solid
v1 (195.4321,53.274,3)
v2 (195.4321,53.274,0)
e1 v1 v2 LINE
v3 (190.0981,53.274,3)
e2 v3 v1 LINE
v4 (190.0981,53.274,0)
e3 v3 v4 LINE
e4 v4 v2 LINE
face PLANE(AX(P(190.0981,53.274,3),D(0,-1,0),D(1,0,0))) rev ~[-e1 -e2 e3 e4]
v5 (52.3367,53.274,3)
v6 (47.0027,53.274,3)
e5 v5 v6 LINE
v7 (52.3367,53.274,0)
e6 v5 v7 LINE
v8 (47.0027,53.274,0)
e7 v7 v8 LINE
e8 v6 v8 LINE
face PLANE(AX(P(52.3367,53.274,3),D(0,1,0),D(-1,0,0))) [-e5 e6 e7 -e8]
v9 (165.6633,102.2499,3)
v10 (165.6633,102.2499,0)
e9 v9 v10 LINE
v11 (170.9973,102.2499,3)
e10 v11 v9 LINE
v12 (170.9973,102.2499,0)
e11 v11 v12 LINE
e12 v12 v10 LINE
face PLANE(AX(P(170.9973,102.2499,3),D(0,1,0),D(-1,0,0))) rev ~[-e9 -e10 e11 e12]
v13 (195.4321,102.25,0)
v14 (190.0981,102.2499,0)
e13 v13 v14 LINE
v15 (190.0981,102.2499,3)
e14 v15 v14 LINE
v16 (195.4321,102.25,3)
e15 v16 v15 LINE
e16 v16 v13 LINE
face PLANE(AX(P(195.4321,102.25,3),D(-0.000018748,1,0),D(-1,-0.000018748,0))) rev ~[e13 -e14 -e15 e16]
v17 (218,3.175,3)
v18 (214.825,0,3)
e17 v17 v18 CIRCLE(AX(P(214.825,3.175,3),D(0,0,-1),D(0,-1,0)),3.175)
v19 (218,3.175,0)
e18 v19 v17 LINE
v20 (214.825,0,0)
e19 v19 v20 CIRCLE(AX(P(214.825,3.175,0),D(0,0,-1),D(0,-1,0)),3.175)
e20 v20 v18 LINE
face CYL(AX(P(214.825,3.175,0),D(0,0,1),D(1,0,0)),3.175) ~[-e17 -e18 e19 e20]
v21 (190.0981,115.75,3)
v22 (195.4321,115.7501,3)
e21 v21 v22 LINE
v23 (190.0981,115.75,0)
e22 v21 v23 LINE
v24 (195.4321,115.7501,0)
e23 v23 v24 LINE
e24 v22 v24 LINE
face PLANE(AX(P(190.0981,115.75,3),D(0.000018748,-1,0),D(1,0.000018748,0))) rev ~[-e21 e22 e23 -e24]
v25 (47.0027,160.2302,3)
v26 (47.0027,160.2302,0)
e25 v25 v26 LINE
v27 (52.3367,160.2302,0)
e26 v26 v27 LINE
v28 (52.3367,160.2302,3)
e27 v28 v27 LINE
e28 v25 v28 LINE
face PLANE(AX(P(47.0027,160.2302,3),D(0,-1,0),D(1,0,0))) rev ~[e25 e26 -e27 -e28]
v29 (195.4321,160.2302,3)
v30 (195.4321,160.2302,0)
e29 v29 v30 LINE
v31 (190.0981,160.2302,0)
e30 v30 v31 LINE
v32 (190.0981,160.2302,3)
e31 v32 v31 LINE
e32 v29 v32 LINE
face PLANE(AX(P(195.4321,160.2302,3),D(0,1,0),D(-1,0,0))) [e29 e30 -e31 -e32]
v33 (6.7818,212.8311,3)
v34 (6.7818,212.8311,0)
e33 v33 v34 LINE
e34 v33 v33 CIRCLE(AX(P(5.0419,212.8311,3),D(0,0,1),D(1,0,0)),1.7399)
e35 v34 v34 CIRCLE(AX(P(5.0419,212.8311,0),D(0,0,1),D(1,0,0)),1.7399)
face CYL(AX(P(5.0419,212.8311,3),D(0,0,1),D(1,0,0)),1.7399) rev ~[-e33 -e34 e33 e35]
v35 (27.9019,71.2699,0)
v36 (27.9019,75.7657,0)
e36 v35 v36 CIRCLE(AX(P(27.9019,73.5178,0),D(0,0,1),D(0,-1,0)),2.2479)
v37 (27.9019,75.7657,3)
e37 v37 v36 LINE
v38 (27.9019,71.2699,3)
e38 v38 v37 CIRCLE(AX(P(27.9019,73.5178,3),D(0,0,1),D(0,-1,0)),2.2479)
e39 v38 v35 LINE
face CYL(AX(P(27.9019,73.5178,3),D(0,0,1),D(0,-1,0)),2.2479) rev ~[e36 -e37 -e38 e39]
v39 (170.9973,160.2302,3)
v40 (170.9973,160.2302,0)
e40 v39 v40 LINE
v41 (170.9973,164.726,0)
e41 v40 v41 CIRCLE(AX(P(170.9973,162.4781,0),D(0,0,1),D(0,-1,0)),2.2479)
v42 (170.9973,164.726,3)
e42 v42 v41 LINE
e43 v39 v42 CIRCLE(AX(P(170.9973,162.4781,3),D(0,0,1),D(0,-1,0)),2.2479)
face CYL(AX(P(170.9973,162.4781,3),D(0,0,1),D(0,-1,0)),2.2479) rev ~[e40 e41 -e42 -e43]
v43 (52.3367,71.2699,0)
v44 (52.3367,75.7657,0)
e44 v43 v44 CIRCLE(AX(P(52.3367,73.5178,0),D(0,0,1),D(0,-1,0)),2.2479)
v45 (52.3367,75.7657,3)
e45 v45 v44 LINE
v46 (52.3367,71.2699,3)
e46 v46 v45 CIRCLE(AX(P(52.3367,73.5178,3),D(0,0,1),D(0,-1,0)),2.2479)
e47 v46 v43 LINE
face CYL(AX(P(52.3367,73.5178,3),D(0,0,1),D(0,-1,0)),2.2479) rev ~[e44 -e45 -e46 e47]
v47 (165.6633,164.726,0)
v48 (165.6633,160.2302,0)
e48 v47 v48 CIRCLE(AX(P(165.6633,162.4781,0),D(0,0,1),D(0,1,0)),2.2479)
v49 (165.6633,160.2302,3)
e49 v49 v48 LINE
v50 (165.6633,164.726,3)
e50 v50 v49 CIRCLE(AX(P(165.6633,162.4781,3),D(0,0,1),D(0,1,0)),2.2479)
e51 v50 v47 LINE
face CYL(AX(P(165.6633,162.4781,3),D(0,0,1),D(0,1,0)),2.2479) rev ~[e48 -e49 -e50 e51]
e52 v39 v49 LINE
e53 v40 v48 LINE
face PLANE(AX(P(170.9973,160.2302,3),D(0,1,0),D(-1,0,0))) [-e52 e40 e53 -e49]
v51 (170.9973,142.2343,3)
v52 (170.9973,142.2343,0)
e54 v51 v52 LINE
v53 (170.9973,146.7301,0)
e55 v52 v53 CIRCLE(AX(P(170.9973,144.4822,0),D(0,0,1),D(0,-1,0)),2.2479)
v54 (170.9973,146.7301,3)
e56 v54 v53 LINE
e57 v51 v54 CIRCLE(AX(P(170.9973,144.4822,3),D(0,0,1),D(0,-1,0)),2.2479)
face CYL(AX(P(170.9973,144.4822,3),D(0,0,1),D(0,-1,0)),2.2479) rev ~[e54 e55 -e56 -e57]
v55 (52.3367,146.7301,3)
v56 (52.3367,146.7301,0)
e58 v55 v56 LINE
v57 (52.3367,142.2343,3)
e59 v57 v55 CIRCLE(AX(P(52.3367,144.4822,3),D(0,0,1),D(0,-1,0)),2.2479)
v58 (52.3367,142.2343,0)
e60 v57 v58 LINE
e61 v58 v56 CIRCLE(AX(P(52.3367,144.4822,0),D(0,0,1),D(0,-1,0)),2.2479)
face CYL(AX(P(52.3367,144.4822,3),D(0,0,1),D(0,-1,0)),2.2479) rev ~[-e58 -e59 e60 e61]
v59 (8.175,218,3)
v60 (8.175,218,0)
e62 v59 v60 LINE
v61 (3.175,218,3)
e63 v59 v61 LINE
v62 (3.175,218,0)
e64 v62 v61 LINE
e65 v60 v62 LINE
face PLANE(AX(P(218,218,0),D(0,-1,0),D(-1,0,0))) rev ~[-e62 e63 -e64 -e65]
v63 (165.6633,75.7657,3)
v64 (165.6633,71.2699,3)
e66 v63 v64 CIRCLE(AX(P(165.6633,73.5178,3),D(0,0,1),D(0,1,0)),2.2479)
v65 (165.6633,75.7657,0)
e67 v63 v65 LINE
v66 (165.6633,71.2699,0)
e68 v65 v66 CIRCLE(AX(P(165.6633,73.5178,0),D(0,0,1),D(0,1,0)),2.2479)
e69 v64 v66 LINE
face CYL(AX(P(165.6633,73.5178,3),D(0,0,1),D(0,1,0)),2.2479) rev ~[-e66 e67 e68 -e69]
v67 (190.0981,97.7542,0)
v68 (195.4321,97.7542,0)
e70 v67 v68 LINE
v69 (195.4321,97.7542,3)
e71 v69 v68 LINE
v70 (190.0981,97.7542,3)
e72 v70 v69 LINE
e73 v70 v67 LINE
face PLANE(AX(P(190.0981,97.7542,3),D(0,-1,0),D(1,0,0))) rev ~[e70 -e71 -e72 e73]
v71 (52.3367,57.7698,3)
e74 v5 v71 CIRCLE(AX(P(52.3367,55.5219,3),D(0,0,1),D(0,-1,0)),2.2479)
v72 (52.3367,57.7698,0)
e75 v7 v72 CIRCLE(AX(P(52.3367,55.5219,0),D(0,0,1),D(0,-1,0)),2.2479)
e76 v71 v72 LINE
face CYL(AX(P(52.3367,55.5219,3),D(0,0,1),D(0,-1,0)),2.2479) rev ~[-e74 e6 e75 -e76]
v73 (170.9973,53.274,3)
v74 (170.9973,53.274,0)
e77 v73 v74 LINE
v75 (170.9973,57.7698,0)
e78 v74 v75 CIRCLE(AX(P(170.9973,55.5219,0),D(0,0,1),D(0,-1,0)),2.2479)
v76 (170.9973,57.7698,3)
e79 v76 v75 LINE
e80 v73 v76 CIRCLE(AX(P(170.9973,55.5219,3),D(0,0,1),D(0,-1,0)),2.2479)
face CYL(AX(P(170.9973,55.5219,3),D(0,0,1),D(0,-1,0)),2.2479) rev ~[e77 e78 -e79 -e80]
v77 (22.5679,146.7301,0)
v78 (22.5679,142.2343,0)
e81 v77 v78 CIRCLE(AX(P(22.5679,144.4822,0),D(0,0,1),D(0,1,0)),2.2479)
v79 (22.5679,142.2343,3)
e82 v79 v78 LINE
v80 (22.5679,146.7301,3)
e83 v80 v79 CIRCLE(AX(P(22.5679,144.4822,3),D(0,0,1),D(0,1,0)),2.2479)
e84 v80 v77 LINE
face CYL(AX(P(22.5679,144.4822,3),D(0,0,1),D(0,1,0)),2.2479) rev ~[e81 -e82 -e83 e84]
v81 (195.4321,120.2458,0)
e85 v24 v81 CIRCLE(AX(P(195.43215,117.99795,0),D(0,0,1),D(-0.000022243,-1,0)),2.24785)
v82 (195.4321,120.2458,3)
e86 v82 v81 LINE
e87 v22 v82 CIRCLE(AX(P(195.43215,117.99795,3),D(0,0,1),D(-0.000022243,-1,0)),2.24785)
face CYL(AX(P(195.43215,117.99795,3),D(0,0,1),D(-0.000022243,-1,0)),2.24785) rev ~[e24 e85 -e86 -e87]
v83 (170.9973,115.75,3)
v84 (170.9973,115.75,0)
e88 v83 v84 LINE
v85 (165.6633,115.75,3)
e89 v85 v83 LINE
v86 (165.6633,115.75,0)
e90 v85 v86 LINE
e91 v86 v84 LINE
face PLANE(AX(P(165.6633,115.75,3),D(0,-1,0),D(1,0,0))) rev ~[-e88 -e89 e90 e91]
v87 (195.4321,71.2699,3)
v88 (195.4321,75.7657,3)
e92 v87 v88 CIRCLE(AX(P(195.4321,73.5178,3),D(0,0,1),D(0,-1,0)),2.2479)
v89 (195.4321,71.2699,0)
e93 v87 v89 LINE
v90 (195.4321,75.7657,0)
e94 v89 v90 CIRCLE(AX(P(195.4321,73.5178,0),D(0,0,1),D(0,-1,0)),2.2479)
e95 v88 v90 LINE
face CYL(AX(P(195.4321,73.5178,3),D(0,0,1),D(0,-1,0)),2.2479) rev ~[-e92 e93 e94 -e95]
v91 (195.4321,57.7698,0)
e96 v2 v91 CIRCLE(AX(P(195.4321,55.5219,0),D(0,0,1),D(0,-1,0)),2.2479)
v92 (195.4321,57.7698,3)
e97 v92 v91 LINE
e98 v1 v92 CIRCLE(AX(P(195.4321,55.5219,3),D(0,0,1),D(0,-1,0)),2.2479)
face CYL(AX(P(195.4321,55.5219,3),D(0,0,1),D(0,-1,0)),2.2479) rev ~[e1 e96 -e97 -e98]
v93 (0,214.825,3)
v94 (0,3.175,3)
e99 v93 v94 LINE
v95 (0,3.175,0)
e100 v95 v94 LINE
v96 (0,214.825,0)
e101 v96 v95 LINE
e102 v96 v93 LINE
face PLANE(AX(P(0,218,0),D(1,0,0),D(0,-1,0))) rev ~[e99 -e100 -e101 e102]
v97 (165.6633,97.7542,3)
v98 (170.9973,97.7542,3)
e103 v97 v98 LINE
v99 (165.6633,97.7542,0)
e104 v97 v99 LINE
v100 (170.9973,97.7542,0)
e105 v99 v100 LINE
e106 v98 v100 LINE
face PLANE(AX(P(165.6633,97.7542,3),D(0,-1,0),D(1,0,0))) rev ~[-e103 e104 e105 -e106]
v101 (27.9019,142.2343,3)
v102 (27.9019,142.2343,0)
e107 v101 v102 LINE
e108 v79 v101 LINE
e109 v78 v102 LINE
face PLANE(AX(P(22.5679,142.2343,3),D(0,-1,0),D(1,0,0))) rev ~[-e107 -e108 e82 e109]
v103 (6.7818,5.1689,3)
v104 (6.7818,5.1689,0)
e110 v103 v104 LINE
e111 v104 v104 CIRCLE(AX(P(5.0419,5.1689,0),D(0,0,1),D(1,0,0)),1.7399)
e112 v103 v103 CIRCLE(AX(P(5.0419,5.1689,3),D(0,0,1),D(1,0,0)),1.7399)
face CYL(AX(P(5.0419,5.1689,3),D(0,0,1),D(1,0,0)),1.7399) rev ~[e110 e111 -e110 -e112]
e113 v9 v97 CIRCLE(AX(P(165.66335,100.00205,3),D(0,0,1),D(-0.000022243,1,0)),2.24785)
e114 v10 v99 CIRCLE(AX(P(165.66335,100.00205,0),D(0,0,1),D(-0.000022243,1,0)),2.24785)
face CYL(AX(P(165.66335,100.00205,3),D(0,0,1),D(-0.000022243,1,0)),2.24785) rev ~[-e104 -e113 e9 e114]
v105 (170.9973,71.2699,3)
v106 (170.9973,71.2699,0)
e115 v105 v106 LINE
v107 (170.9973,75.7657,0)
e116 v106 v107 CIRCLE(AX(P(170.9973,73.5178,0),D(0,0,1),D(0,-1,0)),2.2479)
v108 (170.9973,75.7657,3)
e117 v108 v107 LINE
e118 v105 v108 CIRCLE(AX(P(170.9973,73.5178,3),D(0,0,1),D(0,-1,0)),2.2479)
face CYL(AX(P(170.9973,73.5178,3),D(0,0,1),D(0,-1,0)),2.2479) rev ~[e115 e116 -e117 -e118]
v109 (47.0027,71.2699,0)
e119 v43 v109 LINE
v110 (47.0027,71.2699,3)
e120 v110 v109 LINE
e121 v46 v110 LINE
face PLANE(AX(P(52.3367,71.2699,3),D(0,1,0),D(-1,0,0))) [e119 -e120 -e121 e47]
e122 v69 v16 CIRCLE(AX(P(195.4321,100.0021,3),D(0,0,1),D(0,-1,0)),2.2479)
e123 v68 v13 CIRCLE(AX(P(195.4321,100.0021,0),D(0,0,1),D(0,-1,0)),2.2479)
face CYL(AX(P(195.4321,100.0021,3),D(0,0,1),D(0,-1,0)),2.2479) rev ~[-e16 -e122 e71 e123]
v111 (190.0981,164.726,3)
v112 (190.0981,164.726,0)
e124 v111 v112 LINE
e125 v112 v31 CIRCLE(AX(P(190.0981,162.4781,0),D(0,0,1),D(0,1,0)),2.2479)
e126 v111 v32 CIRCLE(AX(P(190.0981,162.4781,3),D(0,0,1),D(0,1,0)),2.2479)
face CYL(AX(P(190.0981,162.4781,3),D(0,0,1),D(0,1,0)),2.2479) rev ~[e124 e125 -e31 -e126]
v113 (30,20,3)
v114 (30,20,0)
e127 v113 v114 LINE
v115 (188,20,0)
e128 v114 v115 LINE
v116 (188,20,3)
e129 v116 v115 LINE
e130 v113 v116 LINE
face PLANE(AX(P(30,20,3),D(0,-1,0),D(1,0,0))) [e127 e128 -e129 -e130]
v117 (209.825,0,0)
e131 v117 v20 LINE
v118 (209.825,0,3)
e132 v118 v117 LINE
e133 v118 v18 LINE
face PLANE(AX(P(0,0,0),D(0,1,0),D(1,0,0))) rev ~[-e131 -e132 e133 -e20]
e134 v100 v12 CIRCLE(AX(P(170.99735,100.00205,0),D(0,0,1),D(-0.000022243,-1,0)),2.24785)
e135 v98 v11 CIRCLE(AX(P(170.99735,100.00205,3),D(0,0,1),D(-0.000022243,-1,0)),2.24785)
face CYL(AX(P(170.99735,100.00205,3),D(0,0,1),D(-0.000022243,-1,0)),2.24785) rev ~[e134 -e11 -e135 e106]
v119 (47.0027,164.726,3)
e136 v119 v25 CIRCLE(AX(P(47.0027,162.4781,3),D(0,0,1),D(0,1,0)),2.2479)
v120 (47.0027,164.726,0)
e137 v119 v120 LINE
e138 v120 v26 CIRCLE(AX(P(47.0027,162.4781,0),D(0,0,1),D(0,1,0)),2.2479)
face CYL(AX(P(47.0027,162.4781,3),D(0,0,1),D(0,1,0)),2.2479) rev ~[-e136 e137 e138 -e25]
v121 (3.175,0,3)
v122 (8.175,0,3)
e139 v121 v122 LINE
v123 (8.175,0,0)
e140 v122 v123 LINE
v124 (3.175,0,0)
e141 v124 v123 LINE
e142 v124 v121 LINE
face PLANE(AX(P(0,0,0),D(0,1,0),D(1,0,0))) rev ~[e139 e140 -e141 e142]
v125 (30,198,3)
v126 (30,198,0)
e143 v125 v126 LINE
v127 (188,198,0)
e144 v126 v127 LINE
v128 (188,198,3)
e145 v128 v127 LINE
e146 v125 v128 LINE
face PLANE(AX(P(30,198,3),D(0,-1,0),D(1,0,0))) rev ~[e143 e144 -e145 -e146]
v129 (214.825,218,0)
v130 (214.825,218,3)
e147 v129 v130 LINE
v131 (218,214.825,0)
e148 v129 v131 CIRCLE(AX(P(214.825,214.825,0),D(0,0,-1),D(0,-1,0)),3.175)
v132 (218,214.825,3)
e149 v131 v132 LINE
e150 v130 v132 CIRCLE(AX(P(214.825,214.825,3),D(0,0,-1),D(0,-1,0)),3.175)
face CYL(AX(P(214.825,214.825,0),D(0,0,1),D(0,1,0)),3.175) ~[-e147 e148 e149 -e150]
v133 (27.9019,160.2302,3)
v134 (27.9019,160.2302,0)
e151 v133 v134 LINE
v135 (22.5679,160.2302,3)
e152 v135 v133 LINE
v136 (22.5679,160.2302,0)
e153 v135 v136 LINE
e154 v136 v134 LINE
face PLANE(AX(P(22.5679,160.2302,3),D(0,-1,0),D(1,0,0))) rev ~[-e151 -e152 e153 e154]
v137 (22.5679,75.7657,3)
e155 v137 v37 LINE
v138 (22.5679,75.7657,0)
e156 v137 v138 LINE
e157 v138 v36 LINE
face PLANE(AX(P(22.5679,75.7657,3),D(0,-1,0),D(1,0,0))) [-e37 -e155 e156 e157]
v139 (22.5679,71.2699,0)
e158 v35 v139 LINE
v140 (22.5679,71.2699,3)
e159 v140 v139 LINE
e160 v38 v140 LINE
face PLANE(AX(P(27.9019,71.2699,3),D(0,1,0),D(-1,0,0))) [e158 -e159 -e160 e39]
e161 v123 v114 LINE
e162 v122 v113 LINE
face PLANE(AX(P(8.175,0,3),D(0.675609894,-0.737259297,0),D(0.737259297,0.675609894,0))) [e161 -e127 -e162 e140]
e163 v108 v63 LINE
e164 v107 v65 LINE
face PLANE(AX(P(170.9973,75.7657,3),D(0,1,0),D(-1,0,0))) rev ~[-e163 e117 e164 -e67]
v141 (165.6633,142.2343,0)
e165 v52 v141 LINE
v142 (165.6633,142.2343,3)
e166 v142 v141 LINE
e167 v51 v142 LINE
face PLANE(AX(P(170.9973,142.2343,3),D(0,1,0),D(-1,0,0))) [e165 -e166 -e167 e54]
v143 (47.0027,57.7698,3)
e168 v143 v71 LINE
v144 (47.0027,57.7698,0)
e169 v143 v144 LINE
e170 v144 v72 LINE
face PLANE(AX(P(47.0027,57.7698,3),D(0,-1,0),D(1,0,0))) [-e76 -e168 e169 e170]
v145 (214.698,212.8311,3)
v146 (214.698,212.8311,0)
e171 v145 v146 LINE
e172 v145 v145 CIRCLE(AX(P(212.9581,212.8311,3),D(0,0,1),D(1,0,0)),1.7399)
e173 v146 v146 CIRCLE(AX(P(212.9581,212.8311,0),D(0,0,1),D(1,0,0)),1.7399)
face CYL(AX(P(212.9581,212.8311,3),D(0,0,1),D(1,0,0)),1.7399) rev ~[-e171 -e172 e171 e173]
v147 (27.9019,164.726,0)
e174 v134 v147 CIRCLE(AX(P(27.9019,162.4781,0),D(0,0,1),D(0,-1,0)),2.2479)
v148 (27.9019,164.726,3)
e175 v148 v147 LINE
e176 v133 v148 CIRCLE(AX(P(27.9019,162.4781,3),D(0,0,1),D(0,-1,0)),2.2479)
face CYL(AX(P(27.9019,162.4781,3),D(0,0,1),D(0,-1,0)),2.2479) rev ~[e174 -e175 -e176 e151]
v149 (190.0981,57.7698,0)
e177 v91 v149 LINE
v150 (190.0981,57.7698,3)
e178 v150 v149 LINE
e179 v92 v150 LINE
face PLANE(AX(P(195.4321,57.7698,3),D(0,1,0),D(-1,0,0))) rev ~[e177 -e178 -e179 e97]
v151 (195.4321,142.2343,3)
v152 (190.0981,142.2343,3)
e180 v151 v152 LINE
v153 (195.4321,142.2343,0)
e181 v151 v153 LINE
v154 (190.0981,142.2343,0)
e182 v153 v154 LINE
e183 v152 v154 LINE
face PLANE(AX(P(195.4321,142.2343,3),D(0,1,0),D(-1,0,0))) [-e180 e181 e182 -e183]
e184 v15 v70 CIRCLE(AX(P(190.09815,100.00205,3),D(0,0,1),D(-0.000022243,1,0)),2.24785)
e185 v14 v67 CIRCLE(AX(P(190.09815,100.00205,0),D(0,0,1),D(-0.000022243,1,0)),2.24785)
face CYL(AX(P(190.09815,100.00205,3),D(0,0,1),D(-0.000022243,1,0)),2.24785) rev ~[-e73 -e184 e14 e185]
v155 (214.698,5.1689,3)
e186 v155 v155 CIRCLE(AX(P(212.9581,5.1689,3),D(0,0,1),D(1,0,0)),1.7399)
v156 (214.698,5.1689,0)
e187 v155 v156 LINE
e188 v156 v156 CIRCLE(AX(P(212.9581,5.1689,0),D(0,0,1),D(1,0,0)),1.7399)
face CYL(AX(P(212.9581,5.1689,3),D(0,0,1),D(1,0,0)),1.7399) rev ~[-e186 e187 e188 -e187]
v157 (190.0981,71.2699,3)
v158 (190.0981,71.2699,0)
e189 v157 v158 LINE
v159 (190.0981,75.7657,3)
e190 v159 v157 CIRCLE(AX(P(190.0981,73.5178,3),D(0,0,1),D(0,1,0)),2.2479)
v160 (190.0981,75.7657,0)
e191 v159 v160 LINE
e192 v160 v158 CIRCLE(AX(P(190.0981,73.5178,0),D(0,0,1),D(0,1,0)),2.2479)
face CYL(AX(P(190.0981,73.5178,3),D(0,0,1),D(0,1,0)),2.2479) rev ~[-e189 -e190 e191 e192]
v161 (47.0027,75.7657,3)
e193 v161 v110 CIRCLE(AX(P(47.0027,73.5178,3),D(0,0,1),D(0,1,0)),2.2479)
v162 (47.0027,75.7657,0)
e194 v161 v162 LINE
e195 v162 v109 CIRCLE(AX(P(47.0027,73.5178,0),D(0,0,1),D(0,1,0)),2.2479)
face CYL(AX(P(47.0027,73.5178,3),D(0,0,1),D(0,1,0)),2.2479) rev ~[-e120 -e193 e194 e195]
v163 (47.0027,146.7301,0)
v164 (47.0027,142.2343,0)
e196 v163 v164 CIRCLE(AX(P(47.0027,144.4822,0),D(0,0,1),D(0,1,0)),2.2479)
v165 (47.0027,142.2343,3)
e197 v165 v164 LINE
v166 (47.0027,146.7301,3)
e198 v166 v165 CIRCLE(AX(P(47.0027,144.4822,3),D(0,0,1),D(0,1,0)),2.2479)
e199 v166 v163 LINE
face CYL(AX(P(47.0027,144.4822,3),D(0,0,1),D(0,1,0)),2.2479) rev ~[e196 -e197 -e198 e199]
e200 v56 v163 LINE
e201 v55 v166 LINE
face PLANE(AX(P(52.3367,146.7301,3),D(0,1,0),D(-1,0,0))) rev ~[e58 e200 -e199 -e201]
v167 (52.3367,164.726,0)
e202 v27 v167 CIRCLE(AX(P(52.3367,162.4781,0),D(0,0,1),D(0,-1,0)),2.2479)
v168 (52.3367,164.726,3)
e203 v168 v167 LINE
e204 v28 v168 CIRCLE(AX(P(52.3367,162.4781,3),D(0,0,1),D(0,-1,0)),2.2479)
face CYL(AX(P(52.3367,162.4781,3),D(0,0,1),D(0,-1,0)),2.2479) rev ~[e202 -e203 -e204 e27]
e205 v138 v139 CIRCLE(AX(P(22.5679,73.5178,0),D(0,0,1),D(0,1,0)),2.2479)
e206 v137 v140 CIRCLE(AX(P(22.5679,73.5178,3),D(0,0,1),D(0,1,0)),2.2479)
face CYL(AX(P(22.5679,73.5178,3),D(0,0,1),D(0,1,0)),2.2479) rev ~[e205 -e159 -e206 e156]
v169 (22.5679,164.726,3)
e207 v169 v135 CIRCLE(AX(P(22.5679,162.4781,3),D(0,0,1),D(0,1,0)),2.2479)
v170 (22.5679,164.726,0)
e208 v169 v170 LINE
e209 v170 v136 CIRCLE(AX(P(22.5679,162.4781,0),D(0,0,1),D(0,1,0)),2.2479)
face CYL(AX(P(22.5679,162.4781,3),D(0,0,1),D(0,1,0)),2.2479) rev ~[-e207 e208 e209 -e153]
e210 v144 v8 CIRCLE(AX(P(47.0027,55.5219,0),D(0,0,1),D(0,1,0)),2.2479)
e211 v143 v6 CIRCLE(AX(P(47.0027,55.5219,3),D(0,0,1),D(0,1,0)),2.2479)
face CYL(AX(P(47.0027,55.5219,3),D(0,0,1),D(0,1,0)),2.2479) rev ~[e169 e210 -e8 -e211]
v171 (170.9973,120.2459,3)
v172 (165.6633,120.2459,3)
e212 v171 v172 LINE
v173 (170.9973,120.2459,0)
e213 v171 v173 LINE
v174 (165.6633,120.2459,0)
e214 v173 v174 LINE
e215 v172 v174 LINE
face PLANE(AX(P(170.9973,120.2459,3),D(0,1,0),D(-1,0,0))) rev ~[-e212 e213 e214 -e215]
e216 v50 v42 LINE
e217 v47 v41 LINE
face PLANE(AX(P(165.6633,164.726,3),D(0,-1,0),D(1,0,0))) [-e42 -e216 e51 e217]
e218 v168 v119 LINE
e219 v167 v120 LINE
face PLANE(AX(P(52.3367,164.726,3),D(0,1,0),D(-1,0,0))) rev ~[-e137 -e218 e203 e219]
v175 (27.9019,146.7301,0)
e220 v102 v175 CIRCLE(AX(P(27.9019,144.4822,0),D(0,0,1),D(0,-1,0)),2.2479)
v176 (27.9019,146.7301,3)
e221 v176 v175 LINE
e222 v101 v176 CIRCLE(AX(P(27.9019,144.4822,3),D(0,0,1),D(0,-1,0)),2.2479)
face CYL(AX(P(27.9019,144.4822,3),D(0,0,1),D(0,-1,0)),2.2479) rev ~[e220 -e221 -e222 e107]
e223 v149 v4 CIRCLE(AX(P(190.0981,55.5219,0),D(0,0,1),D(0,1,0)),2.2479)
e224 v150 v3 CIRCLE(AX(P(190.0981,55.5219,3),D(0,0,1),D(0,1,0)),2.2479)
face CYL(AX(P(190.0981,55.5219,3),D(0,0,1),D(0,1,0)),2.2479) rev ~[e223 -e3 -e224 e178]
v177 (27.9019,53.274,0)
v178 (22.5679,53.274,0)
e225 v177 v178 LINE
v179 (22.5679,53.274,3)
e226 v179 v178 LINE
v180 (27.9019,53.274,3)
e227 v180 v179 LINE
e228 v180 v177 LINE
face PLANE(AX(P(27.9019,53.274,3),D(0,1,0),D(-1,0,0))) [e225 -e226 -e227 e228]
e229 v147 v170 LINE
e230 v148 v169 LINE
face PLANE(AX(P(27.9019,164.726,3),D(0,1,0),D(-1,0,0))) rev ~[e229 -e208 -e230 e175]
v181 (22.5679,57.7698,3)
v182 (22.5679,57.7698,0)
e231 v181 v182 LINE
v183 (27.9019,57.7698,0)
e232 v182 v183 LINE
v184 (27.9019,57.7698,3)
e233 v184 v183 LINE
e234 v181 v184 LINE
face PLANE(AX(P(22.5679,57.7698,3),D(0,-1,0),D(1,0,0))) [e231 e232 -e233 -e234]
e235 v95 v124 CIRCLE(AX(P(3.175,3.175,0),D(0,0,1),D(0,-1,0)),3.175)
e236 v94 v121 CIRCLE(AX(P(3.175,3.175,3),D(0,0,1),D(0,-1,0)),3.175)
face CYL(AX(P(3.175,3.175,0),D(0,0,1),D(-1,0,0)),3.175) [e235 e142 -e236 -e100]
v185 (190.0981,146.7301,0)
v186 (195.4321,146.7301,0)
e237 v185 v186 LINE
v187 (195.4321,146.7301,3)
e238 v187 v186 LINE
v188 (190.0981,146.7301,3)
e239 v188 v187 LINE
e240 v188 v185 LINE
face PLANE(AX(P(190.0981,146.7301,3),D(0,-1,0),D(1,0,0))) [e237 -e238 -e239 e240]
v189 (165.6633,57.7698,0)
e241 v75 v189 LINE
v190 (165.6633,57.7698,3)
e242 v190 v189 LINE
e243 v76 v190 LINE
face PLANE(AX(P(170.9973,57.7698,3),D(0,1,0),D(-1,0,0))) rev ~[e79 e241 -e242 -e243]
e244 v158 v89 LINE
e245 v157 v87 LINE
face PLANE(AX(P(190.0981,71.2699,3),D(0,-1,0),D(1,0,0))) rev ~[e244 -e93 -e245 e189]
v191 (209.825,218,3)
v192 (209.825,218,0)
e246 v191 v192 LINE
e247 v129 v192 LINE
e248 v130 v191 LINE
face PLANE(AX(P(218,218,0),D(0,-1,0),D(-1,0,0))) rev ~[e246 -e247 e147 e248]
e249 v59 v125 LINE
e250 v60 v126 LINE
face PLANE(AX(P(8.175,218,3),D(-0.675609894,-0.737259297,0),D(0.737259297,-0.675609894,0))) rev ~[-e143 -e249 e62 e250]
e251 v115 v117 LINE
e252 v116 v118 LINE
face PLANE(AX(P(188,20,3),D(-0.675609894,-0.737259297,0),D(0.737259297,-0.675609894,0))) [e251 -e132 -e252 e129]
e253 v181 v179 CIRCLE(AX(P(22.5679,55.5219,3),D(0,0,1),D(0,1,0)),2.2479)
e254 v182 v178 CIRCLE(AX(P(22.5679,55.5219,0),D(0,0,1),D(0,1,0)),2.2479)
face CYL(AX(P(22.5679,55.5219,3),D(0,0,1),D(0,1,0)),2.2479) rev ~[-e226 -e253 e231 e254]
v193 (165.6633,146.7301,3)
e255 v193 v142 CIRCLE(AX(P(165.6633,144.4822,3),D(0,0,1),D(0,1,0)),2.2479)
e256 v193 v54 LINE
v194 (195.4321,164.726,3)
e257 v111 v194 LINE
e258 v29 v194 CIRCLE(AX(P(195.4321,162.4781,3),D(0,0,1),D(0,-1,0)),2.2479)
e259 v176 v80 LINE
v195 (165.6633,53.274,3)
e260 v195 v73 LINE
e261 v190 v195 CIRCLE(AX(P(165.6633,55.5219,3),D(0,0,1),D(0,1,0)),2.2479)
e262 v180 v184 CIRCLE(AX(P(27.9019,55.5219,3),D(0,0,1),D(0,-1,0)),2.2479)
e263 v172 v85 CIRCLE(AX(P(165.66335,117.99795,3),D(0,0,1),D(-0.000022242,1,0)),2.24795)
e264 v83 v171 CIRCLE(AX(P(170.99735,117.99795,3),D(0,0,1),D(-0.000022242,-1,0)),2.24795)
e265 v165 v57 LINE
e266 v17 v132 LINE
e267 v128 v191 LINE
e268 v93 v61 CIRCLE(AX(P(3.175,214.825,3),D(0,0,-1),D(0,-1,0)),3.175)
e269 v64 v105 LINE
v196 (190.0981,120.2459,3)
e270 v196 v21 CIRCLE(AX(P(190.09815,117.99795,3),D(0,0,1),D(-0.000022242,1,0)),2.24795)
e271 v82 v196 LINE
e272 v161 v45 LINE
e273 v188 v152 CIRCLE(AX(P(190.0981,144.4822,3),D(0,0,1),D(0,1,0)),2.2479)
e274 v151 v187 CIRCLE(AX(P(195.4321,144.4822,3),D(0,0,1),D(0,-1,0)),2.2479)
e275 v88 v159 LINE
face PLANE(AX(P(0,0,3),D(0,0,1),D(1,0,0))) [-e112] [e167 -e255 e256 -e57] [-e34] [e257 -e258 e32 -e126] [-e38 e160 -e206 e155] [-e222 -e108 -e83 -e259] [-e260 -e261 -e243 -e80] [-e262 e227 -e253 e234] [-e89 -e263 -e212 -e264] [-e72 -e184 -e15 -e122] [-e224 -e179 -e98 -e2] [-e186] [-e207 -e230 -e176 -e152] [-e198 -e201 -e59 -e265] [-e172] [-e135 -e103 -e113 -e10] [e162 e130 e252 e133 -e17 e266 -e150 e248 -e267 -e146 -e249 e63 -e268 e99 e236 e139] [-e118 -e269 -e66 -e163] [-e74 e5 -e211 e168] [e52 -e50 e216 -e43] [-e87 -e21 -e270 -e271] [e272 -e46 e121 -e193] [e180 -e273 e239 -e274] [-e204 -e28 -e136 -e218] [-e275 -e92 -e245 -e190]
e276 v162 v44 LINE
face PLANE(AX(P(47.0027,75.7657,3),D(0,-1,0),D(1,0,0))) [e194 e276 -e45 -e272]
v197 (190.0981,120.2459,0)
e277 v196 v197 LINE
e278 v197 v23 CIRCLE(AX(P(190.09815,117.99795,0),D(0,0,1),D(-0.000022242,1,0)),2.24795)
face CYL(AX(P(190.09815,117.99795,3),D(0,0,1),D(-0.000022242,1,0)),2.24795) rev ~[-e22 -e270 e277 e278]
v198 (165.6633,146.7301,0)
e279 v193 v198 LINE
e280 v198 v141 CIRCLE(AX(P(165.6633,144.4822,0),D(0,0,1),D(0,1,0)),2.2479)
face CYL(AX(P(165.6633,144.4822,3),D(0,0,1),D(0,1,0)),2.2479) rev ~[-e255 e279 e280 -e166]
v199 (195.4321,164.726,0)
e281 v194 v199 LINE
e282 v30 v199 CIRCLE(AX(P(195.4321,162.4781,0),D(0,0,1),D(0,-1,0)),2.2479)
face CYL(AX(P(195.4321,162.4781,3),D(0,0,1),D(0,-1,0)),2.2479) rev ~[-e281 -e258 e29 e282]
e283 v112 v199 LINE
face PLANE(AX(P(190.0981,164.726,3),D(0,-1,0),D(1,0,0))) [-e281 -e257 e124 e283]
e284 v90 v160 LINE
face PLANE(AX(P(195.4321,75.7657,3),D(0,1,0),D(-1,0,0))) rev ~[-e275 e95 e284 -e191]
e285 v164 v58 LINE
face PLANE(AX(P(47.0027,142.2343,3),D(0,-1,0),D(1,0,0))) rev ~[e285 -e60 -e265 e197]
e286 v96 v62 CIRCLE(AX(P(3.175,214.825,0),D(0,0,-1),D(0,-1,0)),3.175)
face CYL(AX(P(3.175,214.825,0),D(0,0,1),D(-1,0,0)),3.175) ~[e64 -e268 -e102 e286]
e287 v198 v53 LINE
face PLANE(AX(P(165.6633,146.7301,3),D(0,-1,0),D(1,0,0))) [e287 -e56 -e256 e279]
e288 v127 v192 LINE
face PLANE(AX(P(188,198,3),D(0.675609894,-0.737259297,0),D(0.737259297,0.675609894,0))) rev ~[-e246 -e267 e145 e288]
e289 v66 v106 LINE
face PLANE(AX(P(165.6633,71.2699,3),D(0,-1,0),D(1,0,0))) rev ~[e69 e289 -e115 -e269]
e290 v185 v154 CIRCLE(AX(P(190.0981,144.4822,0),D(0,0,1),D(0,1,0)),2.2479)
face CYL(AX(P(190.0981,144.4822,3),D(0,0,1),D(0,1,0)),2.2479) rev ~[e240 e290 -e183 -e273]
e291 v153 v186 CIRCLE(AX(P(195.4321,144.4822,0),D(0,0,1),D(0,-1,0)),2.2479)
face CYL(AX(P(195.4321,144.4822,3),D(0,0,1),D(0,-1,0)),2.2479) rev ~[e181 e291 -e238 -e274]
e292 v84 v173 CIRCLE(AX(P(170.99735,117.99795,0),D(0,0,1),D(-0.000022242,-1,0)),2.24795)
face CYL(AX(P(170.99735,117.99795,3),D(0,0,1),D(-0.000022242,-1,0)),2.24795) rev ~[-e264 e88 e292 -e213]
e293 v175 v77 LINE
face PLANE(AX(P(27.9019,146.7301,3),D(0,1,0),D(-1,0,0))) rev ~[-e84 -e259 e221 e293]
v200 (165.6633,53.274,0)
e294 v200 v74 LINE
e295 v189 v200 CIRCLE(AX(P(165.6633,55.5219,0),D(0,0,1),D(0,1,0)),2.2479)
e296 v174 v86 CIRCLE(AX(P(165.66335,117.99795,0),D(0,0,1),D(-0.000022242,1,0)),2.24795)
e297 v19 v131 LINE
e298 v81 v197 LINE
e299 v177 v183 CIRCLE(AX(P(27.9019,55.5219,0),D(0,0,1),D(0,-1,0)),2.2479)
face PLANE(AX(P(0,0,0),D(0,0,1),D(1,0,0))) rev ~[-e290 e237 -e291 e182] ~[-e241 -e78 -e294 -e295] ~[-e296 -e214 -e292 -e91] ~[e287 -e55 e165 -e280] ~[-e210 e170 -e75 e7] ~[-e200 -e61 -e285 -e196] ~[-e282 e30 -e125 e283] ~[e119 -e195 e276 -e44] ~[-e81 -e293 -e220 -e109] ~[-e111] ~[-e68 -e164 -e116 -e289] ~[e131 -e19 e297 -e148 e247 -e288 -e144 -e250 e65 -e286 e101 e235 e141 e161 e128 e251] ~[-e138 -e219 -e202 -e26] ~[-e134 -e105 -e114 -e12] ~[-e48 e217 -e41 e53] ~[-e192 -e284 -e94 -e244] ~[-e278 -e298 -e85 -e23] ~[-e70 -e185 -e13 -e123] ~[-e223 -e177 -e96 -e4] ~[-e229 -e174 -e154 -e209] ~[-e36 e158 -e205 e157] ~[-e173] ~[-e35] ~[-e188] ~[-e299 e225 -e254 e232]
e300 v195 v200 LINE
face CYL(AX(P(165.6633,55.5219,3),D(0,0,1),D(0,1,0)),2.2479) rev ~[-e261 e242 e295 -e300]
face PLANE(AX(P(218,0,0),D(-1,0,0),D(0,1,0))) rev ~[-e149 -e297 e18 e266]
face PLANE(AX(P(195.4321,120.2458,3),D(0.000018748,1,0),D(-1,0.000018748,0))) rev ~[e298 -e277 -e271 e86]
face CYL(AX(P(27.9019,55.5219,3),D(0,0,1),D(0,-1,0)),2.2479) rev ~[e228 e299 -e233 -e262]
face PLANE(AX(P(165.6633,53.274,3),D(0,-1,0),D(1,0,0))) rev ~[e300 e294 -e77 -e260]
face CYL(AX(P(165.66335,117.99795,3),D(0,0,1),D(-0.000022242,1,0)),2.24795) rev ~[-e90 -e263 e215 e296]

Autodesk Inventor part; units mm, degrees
ref_plane "YZ Plane" through (0, 0, 0) normal (1, 0, 0) x (0, 1, 0)
ref_plane "XZ Plane" through (0, 0, 0) normal (0, 1, 0) x (-1, 0, 0)
ref_plane "XY Plane" through (0, 0, 0) normal (0, 0, 1) x (1, 0, 0)
sketch "Sketch1" plane through (0, 0, 0) normal (0, 0, 1) x (1, 0, 0)
  line L0 (0, 0) -> (218, 0)
  line L1 (218, 0) -> (218, 218)
  line L2 (218, 218) -> (0, 218)
  line L3 (0, 218) -> (0, 0)
  dimension "d0" = 218
  dimension "d1" = 218
extrude "Extrusion1" add sketch "Sketch1" along normal blind 3
fillet "Fillet1" radius 3.175 4 edges at (218, 0, 1.5) (218, 218, 1.5) (0, 218, 1.5) (0, 0, 1.5)
sketch "Sketch2" plane through (0, 0, 3) normal (0, 0, 1) x (1, 0, 0)
  arc A0 (0, 3.175) -> (3.175, 0) centre (3.175, 3.175) ccw projected
  line L0 (3.175, 0) -> (214.825, 0) projected
  arc A1 (214.825, 0) -> (218, 3.175) centre (214.825, 3.175) ccw projected
  line L1 (218, 3.175) -> (218, 214.825) projected
  arc A2 (218, 214.825) -> (214.825, 218) centre (214.825, 214.825) ccw projected
  line L2 (214.825, 218) -> (3.175, 218) projected
  arc A3 (3.175, 218) -> (0, 214.825) centre (3.175, 214.825) ccw projected
  line L3 (0, 214.825) -> (0, 3.175) projected
  line L4 (214.825, 218) -> (3.175, 218) projected
  line L5 (30, 198) -> (188, 198)
  line L6 (3.175, 218) -> (8.175, 218)
  line L7 (8.175, 218) -> (30, 198)
  line L8 (214.825, 218) -> (209.825, 218)
  line L9 (188, 198) -> (209.825, 218)
  line L10 (0, 214.825) -> (0, 3.175) construction
  line L11 (0, 109) -> (218, 109) construction
  line L12 (30, 20) -> (188, 20)
  line L13 (3.175, 0) -> (8.175, 0)
  line L14 (8.175, 0) -> (30, 20)
  line L15 (214.825, 0) -> (209.825, 0)
  line L16 (188, 20) -> (209.825, 0)
  point P0 (0, 0)
  point P1 (5.675, 218)
  point P2 (212.325, 218)
  dimension "d5" = 20
  dimension "d6" = 30
  dimension "d7" = 30
  dimension "d8" = 20
  dimension "d9" = 5
  dimension "d10" = 5
extrude "Extrusion2" cut sketch "Sketch2" against normal through all contours L14 L12 L16 L0 | L2 L9 L5 L7
sketch "Sketch3" plane through (0, 0, 3) normal (0, 0, 1) x (1, 0, 0)
  line L0 (20.32, 162.4781) -> (30.1498, 162.4781) construction
  line L1 (22.5679, 160.2302) -> (27.9019, 160.2302)
  line L2 (27.9019, 164.726) -> (22.5679, 164.726)
  arc A0 (22.5679, 164.726) -> (22.5679, 160.2302) centre (22.5679, 162.4781) ccw
  arc A1 (27.9019, 160.2302) -> (27.9019, 164.726) centre (27.9019, 162.4781) ccw
  line L3 (0, 214.825) -> (0, 3.175) projected
  line L4 (3.175, 0) -> (8.175, 0) projected
  line L5 (209.825, 0) -> (214.825, 0) projected
  line L6 (218, 3.175) -> (218, 214.825) projected
  line L7 (214.825, 218) -> (209.825, 218) projected
  line L8 (8.175, 218) -> (3.175, 218) projected
  line L9 (8.175, 0) -> (30, 20) projected
  line L10 (30, 20) -> (188, 20) projected
  line L11 (188, 20) -> (209.825, 0) projected
  line L12 (209.825, 0) -> (214.825, 0) projected
  arc A2 (214.825, 0) -> (218, 3.175) centre (214.825, 3.175) ccw projected
  line L13 (218, 3.175) -> (218, 214.825) projected
  arc A3 (218, 214.825) -> (214.825, 218) centre (214.825, 214.825) ccw projected
  line L14 (214.825, 218) -> (209.825, 218) projected
  line L15 (209.825, 218) -> (188, 198) projected
  line L16 (188, 198) -> (30, 198) projected
  line L17 (30, 198) -> (8.175, 218) projected
  line L18 (8.175, 218) -> (3.175, 218) projected
  arc A4 (3.175, 218) -> (0, 214.825) centre (3.175, 214.825) ccw projected
  line L19 (0, 214.825) -> (0, 3.175) projected
  arc A5 (0, 3.175) -> (3.175, 0) centre (3.175, 3.175) ccw projected
  line L20 (3.175, 0) -> (8.175, 0) projected
  line L21 (20.32, 144.4822) -> (30.1498, 144.4822) construction
  line L22 (22.5679, 142.2343) -> (27.9019, 142.2343)
  line L23 (27.9019, 146.7301) -> (22.5679, 146.7301)
  arc A6 (22.5679, 146.7301) -> (22.5679, 142.2343) centre (22.5679, 144.4822) ccw
  arc A7 (27.9019, 142.2343) -> (27.9019, 146.7301) centre (27.9019, 144.4822) ccw
  line L24 (44.7548, 162.4781) -> (54.5846, 162.4781) construction
  line L25 (47.0027, 160.2302) -> (52.3367, 160.2302)
  line L26 (52.3367, 164.726) -> (47.0027, 164.726)
  arc A8 (47.0027, 164.726) -> (47.0027, 160.2302) centre (47.0027, 162.4781) ccw
  arc A9 (52.3367, 160.2302) -> (52.3367, 164.726) centre (52.3367, 162.4781) ccw
  line L27 (44.7548, 144.4822) -> (54.5846, 144.4822) construction
  line L28 (47.0027, 142.2343) -> (52.3367, 142.2343)
  line L29 (52.3367, 146.7301) -> (47.0027, 146.7301)
  arc A10 (47.0027, 146.7301) -> (47.0027, 142.2343) centre (47.0027, 144.4822) ccw
  arc A11 (52.3367, 142.2343) -> (52.3367, 146.7301) centre (52.3367, 144.4822) ccw
  line L30 (30, 198) -> (188, 198) construction
  line L31 (109, 198) -> (109, 20) construction
  line L32 (30, 20) -> (188, 20) construction
  line L33 (0, 214.825) -> (0, 3.175) construction
  line L34 (0, 109) -> (218, 109) construction
  line L35 (197.68, 162.4781) -> (187.8502, 162.4781) construction
  line L36 (195.4321, 160.2302) -> (190.0981, 160.2302)
  line L37 (190.0981, 164.726) -> (195.4321, 164.726)
  arc A12 (195.4321, 160.2302) -> (195.4321, 164.726) centre (195.4321, 162.4781) ccw
  arc A13 (190.0981, 164.726) -> (190.0981, 160.2302) centre (190.0981, 162.4781) ccw
  line L38 (197.68, 144.4822) -> (187.8502, 144.4822) construction
  line L39 (195.4321, 142.2343) -> (190.0981, 142.2343)
  line L40 (190.0981, 146.7301) -> (195.4321, 146.7301)
  arc A14 (195.4321, 142.2343) -> (195.4321, 146.7301) centre (195.4321, 144.4822) ccw
  arc A15 (190.0981, 146.7301) -> (190.0981, 142.2343) centre (190.0981, 144.4822) ccw
  line L41 (173.2452, 162.4781) -> (163.4154, 162.4781) construction
  line L42 (170.9973, 160.2302) -> (165.6633, 160.2302)
  line L43 (165.6633, 164.726) -> (170.9973, 164.726)
  arc A16 (170.9973, 160.2302) -> (170.9973, 164.726) centre (170.9973, 162.4781) ccw
  arc A17 (165.6633, 164.726) -> (165.6633, 160.2302) centre (165.6633, 162.4781) ccw
  line L44 (173.2452, 144.4822) -> (163.4154, 144.4822) construction
  line L45 (170.9973, 142.2343) -> (165.6633, 142.2343)
  line L46 (165.6633, 146.7301) -> (170.9973, 146.7301)
  arc A18 (170.9973, 142.2343) -> (170.9973, 146.7301) centre (170.9973, 144.4822) ccw
  arc A19 (165.6633, 146.7301) -> (165.6633, 142.2343) centre (165.6633, 144.4822) ccw
  line L47 (20.32, 55.5219) -> (30.1498, 55.5219) construction
  line L48 (22.5679, 57.7698) -> (27.9019, 57.7698)
  line L49 (27.9019, 53.274) -> (22.5679, 53.274)
  arc A20 (22.5679, 57.7698) -> (22.5679, 53.274) centre (22.5679, 55.5219) ccw
  arc A21 (27.9019, 53.274) -> (27.9019, 57.7698) centre (27.9019, 55.5219) ccw
  line L50 (20.32, 73.5178) -> (30.1498, 73.5178) construction
  line L51 (22.5679, 75.7657) -> (27.9019, 75.7657)
  line L52 (27.9019, 71.2699) -> (22.5679, 71.2699)
  arc A22 (22.5679, 75.7657) -> (22.5679, 71.2699) centre (22.5679, 73.5178) ccw
  arc A23 (27.9019, 71.2699) -> (27.9019, 75.7657) centre (27.9019, 73.5178) ccw
  line L53 (44.7548, 55.5219) -> (54.5846, 55.5219) construction
  line L54 (47.0027, 57.7698) -> (52.3367, 57.7698)
  line L55 (52.3367, 53.274) -> (47.0027, 53.274)
  arc A24 (47.0027, 57.7698) -> (47.0027, 53.274) centre (47.0027, 55.5219) ccw
  arc A25 (52.3367, 53.274) -> (52.3367, 57.7698) centre (52.3367, 55.5219) ccw
  line L56 (44.7548, 73.5178) -> (54.5846, 73.5178) construction
  line L57 (47.0027, 75.7657) -> (52.3367, 75.7657)
  line L58 (52.3367, 71.2699) -> (47.0027, 71.2699)
  arc A26 (47.0027, 75.7657) -> (47.0027, 71.2699) centre (47.0027, 73.5178) ccw
  arc A27 (52.3367, 71.2699) -> (52.3367, 75.7657) centre (52.3367, 73.5178) ccw
  line L59 (197.68, 55.5219) -> (187.8502, 55.5219) construction
  arc A28 (190.0981, 57.7698) -> (190.0981, 53.274) centre (190.0981, 55.5219) ccw
  line L60 (195.4321, 57.7698) -> (190.0981, 57.7698)
  arc A29 (195.4321, 53.274) -> (195.4321, 57.7698) centre (195.4321, 55.5219) ccw
  line L61 (190.0981, 53.274) -> (195.4321, 53.274)
  line L62 (170.9973, 75.7657) -> (165.6633, 75.7657)
  arc A30 (190.0981, 75.7657) -> (190.0981, 71.2699) centre (190.0981, 73.5178) ccw
  line L63 (190.0981, 71.2699) -> (195.4321, 71.2699)
  line L64 (195.4321, 75.7657) -> (190.0981, 75.7657)
  line L65 (197.68, 73.5178) -> (187.8502, 73.5178) construction
  arc A31 (195.4321, 71.2699) -> (195.4321, 75.7657) centre (195.4321, 73.5178) ccw
  arc A32 (165.6633, 75.7657) -> (165.6633, 71.2699) centre (165.6633, 73.5178) ccw
  line L66 (165.6633, 71.2699) -> (170.9973, 71.2699)
  line L67 (173.2452, 73.5178) -> (163.4154, 73.5178) construction
  line L68 (173.2452, 55.5219) -> (163.4154, 55.5219) construction
  arc A33 (170.9973, 53.274) -> (170.9973, 57.7698) centre (170.9973, 55.5219) ccw
  line L69 (165.6633, 53.274) -> (170.9973, 53.274)
  arc A34 (170.9973, 71.2699) -> (170.9973, 75.7657) centre (170.9973, 73.5178) ccw
  arc A35 (165.6633, 57.7698) -> (165.6633, 53.274) centre (165.6633, 55.5219) ccw
  line L70 (170.9973, 57.7698) -> (165.6633, 57.7698)
  line L71 (163.4154, 117.998) -> (173.2452, 117.998) construction
  line L72 (165.6633, 115.75) -> (170.9973, 115.75)
  line L73 (170.9973, 120.2459) -> (165.6633, 120.2459)
  arc A36 (165.6633, 120.2459) -> (165.6633, 115.75) centre (165.6633, 117.998) ccw
  arc A37 (170.9973, 115.75) -> (170.9973, 120.2459) centre (170.9973, 117.998) ccw
  line L74 (187.8502, 117.998) -> (197.68, 117.998) construction
  line L75 (190.0981, 115.75) -> (195.4321, 115.7501)
  line L76 (195.4321, 120.2458) -> (190.0981, 120.2459)
  arc A38 (190.0981, 120.2459) -> (190.0981, 115.75) centre (190.0981, 117.998) ccw
  arc A39 (195.4321, 115.7501) -> (195.4321, 120.2458) centre (195.4321, 117.998) ccw
  line L77 (163.4154, 100.0021) -> (173.2452, 100.0021) construction
  line L78 (165.6633, 97.7542) -> (170.9973, 97.7542)
  line L79 (170.9973, 102.2499) -> (165.6633, 102.2499)
  arc A40 (165.6633, 102.2499) -> (165.6633, 97.7542) centre (165.6633, 100.0021) ccw
  arc A41 (170.9973, 97.7542) -> (170.9973, 102.2499) centre (170.9973, 100.0021) ccw
  line L80 (187.8502, 100.0021) -> (197.68, 100.0021) construction
  line L81 (190.0981, 97.7542) -> (195.4321, 97.7542)
  line L82 (195.4321, 102.25) -> (190.0981, 102.2499)
  arc A42 (190.0981, 102.2499) -> (190.0981, 97.7542) centre (190.0981, 100.0021) ccw
  arc A43 (195.4321, 97.7542) -> (195.4321, 102.25) centre (195.4321, 100.0021) ccw
  point P0 (0, 0)
  point P1 (25.2349, 162.4781)
  point P2 (25.2349, 144.4822)
  point P3 (49.6697, 162.4781)
  point P4 (49.6697, 144.4822)
  point P5 (192.7651, 162.4781)
  point P6 (192.7651, 144.4822)
  point P7 (168.3303, 162.4781)
  point P8 (168.3303, 144.4822)
  point P9 (25.2349, 55.5219)
  point P10 (25.2349, 73.5178)
  point P11 (49.6697, 55.5219)
  point P12 (49.6697, 73.5178)
  point P13 (192.7651, 55.5219)
  point P14 (192.7651, 73.5178)
  point P15 (168.3303, 73.5178)
  point P16 (168.3303, 55.5219)
  point P17 (168.3303, 117.998)
  point P18 (192.7651, 117.998)
  point P19 (168.3303, 100.0021)
  point P20 (192.7651, 100.0021)
  dimension "d13" = 9.8298
  dimension "d14" = 4.4958
  dimension "d15" = 20.32
  dimension "d16" = 33.274
  dimension "d17" = 9.8298
  dimension "d18" = 4.4958
  dimension "d19" = 20.32
  dimension "d20" = 13.5001
  dimension "d21" = 33.274
  dimension "d22" = 4.4958
  dimension "d23" = 9.8298
  dimension "d24" = 14.605
  dimension "d25" = 13.5001
  dimension "d26" = 4.4958
  dimension "d27" = 9.8298
  dimension "d28" = 14.605
  dimension "d29" = 14.605
  dimension "d30" = 9.8298
  dimension "d31" = 9.8298
  dimension "d32" = 4.4958
  dimension "d33" = 4.4958
  dimension "d34" = 4.4958
  dimension "d35" = 4.4958
  dimension "d36" = 9.8298
  dimension "d37" = 9.8298
  dimension "d38" = 13.5001
  dimension "d39" = 20.32
  dimension "d40" = 21.9885
  dimension "d41" = 21.9885
extrude "Extrusion3" cut sketch "Sketch3" against normal blind 25.4 contours A0 L2 A1 L1 | A6 L23 A7 L22 | A8 L26 A9 L25 | A10 L29 A11 L28 | L36 A13 L37 A12 | L39 A15 L40 A14 | L42 A17 L43 A16 | L45 A19 L46 A18 | L48 A21 L49 A20 | L51 A23 L52 A22 | L54 A25 L55 A24 | L57 A27 L58 A26 | L60 A29 L61 A28 | A34 L66 A32 L62 | L64 A31 L63 A30 | L69 A35 L70 A33 | A36 L73 A37 L72 | A38 L76 A39 L75 | A40 L79 A41 L78 | A42 L82 A43 L81
sketch "Sketch4" plane through (0, 0, 3) normal (0, 0, 1) x (1, 0, 0)
  circle A0 centre (5.0419, 5.1689) radius 1.7399
  line L0 (0, 214.825) -> (0, 3.175) projected
  line L1 (3.175, 0) -> (8.175, 0) projected
  circle A1 centre (212.9581, 5.1689) radius 1.7399
  line L2 (209.825, 0) -> (214.825, 0) projected
  line L3 (218, 3.175) -> (218, 214.825) projected
  circle A2 centre (212.9581, 212.8311) radius 1.7399
  line L4 (214.825, 218) -> (209.825, 218) projected
  circle A3 centre (5.0419, 212.8311) radius 1.7399
  line L5 (8.175, 218) -> (3.175, 218) projected
  point P0 (0, 0)
  dimension "d44" = 3.4798
  dimension "d45" = 3.302
  dimension "d46" = 3.429
  dimension "d47" = 3.4798
  dimension "d48" = 3.429
  dimension "d49" = 3.302
  dimension "d50" = 3.4798
  dimension "d51" = 3.429
  dimension "d52" = 3.302
  dimension "d53" = 3.4798
  dimension "d54" = 3.429
  dimension "d55" = 3.302
extrude "Extrusion4" cut sketch "Sketch4" against normal through all
equation "\"d17\" = d13"
equation "\"d18\" = d14"
equation "\"d19\" = d15"
equation "\"d21\" = d16"
equation "\"d22\" = d14"
equation "\"d23\" = d13"
equation "\"d25\" = d20"
equation "\"d26\" = d14"
equation "\"d27\" = d13"
equation "\"d28\" = d24"
equation "\"d29\" = d24"
equation "\"d30\" = d13"
equation "\"d31\" = d13"
equation "\"d32\" = d14"
equation "\"d33\" = d14"
equation "\"d34\" = d14"
equation "\"d35\" = d14"
equation "\"d38\" = d20"
equation "\"d39\" = d15"
equation "\"d40\" = d41"
properties part number "New Plate"
